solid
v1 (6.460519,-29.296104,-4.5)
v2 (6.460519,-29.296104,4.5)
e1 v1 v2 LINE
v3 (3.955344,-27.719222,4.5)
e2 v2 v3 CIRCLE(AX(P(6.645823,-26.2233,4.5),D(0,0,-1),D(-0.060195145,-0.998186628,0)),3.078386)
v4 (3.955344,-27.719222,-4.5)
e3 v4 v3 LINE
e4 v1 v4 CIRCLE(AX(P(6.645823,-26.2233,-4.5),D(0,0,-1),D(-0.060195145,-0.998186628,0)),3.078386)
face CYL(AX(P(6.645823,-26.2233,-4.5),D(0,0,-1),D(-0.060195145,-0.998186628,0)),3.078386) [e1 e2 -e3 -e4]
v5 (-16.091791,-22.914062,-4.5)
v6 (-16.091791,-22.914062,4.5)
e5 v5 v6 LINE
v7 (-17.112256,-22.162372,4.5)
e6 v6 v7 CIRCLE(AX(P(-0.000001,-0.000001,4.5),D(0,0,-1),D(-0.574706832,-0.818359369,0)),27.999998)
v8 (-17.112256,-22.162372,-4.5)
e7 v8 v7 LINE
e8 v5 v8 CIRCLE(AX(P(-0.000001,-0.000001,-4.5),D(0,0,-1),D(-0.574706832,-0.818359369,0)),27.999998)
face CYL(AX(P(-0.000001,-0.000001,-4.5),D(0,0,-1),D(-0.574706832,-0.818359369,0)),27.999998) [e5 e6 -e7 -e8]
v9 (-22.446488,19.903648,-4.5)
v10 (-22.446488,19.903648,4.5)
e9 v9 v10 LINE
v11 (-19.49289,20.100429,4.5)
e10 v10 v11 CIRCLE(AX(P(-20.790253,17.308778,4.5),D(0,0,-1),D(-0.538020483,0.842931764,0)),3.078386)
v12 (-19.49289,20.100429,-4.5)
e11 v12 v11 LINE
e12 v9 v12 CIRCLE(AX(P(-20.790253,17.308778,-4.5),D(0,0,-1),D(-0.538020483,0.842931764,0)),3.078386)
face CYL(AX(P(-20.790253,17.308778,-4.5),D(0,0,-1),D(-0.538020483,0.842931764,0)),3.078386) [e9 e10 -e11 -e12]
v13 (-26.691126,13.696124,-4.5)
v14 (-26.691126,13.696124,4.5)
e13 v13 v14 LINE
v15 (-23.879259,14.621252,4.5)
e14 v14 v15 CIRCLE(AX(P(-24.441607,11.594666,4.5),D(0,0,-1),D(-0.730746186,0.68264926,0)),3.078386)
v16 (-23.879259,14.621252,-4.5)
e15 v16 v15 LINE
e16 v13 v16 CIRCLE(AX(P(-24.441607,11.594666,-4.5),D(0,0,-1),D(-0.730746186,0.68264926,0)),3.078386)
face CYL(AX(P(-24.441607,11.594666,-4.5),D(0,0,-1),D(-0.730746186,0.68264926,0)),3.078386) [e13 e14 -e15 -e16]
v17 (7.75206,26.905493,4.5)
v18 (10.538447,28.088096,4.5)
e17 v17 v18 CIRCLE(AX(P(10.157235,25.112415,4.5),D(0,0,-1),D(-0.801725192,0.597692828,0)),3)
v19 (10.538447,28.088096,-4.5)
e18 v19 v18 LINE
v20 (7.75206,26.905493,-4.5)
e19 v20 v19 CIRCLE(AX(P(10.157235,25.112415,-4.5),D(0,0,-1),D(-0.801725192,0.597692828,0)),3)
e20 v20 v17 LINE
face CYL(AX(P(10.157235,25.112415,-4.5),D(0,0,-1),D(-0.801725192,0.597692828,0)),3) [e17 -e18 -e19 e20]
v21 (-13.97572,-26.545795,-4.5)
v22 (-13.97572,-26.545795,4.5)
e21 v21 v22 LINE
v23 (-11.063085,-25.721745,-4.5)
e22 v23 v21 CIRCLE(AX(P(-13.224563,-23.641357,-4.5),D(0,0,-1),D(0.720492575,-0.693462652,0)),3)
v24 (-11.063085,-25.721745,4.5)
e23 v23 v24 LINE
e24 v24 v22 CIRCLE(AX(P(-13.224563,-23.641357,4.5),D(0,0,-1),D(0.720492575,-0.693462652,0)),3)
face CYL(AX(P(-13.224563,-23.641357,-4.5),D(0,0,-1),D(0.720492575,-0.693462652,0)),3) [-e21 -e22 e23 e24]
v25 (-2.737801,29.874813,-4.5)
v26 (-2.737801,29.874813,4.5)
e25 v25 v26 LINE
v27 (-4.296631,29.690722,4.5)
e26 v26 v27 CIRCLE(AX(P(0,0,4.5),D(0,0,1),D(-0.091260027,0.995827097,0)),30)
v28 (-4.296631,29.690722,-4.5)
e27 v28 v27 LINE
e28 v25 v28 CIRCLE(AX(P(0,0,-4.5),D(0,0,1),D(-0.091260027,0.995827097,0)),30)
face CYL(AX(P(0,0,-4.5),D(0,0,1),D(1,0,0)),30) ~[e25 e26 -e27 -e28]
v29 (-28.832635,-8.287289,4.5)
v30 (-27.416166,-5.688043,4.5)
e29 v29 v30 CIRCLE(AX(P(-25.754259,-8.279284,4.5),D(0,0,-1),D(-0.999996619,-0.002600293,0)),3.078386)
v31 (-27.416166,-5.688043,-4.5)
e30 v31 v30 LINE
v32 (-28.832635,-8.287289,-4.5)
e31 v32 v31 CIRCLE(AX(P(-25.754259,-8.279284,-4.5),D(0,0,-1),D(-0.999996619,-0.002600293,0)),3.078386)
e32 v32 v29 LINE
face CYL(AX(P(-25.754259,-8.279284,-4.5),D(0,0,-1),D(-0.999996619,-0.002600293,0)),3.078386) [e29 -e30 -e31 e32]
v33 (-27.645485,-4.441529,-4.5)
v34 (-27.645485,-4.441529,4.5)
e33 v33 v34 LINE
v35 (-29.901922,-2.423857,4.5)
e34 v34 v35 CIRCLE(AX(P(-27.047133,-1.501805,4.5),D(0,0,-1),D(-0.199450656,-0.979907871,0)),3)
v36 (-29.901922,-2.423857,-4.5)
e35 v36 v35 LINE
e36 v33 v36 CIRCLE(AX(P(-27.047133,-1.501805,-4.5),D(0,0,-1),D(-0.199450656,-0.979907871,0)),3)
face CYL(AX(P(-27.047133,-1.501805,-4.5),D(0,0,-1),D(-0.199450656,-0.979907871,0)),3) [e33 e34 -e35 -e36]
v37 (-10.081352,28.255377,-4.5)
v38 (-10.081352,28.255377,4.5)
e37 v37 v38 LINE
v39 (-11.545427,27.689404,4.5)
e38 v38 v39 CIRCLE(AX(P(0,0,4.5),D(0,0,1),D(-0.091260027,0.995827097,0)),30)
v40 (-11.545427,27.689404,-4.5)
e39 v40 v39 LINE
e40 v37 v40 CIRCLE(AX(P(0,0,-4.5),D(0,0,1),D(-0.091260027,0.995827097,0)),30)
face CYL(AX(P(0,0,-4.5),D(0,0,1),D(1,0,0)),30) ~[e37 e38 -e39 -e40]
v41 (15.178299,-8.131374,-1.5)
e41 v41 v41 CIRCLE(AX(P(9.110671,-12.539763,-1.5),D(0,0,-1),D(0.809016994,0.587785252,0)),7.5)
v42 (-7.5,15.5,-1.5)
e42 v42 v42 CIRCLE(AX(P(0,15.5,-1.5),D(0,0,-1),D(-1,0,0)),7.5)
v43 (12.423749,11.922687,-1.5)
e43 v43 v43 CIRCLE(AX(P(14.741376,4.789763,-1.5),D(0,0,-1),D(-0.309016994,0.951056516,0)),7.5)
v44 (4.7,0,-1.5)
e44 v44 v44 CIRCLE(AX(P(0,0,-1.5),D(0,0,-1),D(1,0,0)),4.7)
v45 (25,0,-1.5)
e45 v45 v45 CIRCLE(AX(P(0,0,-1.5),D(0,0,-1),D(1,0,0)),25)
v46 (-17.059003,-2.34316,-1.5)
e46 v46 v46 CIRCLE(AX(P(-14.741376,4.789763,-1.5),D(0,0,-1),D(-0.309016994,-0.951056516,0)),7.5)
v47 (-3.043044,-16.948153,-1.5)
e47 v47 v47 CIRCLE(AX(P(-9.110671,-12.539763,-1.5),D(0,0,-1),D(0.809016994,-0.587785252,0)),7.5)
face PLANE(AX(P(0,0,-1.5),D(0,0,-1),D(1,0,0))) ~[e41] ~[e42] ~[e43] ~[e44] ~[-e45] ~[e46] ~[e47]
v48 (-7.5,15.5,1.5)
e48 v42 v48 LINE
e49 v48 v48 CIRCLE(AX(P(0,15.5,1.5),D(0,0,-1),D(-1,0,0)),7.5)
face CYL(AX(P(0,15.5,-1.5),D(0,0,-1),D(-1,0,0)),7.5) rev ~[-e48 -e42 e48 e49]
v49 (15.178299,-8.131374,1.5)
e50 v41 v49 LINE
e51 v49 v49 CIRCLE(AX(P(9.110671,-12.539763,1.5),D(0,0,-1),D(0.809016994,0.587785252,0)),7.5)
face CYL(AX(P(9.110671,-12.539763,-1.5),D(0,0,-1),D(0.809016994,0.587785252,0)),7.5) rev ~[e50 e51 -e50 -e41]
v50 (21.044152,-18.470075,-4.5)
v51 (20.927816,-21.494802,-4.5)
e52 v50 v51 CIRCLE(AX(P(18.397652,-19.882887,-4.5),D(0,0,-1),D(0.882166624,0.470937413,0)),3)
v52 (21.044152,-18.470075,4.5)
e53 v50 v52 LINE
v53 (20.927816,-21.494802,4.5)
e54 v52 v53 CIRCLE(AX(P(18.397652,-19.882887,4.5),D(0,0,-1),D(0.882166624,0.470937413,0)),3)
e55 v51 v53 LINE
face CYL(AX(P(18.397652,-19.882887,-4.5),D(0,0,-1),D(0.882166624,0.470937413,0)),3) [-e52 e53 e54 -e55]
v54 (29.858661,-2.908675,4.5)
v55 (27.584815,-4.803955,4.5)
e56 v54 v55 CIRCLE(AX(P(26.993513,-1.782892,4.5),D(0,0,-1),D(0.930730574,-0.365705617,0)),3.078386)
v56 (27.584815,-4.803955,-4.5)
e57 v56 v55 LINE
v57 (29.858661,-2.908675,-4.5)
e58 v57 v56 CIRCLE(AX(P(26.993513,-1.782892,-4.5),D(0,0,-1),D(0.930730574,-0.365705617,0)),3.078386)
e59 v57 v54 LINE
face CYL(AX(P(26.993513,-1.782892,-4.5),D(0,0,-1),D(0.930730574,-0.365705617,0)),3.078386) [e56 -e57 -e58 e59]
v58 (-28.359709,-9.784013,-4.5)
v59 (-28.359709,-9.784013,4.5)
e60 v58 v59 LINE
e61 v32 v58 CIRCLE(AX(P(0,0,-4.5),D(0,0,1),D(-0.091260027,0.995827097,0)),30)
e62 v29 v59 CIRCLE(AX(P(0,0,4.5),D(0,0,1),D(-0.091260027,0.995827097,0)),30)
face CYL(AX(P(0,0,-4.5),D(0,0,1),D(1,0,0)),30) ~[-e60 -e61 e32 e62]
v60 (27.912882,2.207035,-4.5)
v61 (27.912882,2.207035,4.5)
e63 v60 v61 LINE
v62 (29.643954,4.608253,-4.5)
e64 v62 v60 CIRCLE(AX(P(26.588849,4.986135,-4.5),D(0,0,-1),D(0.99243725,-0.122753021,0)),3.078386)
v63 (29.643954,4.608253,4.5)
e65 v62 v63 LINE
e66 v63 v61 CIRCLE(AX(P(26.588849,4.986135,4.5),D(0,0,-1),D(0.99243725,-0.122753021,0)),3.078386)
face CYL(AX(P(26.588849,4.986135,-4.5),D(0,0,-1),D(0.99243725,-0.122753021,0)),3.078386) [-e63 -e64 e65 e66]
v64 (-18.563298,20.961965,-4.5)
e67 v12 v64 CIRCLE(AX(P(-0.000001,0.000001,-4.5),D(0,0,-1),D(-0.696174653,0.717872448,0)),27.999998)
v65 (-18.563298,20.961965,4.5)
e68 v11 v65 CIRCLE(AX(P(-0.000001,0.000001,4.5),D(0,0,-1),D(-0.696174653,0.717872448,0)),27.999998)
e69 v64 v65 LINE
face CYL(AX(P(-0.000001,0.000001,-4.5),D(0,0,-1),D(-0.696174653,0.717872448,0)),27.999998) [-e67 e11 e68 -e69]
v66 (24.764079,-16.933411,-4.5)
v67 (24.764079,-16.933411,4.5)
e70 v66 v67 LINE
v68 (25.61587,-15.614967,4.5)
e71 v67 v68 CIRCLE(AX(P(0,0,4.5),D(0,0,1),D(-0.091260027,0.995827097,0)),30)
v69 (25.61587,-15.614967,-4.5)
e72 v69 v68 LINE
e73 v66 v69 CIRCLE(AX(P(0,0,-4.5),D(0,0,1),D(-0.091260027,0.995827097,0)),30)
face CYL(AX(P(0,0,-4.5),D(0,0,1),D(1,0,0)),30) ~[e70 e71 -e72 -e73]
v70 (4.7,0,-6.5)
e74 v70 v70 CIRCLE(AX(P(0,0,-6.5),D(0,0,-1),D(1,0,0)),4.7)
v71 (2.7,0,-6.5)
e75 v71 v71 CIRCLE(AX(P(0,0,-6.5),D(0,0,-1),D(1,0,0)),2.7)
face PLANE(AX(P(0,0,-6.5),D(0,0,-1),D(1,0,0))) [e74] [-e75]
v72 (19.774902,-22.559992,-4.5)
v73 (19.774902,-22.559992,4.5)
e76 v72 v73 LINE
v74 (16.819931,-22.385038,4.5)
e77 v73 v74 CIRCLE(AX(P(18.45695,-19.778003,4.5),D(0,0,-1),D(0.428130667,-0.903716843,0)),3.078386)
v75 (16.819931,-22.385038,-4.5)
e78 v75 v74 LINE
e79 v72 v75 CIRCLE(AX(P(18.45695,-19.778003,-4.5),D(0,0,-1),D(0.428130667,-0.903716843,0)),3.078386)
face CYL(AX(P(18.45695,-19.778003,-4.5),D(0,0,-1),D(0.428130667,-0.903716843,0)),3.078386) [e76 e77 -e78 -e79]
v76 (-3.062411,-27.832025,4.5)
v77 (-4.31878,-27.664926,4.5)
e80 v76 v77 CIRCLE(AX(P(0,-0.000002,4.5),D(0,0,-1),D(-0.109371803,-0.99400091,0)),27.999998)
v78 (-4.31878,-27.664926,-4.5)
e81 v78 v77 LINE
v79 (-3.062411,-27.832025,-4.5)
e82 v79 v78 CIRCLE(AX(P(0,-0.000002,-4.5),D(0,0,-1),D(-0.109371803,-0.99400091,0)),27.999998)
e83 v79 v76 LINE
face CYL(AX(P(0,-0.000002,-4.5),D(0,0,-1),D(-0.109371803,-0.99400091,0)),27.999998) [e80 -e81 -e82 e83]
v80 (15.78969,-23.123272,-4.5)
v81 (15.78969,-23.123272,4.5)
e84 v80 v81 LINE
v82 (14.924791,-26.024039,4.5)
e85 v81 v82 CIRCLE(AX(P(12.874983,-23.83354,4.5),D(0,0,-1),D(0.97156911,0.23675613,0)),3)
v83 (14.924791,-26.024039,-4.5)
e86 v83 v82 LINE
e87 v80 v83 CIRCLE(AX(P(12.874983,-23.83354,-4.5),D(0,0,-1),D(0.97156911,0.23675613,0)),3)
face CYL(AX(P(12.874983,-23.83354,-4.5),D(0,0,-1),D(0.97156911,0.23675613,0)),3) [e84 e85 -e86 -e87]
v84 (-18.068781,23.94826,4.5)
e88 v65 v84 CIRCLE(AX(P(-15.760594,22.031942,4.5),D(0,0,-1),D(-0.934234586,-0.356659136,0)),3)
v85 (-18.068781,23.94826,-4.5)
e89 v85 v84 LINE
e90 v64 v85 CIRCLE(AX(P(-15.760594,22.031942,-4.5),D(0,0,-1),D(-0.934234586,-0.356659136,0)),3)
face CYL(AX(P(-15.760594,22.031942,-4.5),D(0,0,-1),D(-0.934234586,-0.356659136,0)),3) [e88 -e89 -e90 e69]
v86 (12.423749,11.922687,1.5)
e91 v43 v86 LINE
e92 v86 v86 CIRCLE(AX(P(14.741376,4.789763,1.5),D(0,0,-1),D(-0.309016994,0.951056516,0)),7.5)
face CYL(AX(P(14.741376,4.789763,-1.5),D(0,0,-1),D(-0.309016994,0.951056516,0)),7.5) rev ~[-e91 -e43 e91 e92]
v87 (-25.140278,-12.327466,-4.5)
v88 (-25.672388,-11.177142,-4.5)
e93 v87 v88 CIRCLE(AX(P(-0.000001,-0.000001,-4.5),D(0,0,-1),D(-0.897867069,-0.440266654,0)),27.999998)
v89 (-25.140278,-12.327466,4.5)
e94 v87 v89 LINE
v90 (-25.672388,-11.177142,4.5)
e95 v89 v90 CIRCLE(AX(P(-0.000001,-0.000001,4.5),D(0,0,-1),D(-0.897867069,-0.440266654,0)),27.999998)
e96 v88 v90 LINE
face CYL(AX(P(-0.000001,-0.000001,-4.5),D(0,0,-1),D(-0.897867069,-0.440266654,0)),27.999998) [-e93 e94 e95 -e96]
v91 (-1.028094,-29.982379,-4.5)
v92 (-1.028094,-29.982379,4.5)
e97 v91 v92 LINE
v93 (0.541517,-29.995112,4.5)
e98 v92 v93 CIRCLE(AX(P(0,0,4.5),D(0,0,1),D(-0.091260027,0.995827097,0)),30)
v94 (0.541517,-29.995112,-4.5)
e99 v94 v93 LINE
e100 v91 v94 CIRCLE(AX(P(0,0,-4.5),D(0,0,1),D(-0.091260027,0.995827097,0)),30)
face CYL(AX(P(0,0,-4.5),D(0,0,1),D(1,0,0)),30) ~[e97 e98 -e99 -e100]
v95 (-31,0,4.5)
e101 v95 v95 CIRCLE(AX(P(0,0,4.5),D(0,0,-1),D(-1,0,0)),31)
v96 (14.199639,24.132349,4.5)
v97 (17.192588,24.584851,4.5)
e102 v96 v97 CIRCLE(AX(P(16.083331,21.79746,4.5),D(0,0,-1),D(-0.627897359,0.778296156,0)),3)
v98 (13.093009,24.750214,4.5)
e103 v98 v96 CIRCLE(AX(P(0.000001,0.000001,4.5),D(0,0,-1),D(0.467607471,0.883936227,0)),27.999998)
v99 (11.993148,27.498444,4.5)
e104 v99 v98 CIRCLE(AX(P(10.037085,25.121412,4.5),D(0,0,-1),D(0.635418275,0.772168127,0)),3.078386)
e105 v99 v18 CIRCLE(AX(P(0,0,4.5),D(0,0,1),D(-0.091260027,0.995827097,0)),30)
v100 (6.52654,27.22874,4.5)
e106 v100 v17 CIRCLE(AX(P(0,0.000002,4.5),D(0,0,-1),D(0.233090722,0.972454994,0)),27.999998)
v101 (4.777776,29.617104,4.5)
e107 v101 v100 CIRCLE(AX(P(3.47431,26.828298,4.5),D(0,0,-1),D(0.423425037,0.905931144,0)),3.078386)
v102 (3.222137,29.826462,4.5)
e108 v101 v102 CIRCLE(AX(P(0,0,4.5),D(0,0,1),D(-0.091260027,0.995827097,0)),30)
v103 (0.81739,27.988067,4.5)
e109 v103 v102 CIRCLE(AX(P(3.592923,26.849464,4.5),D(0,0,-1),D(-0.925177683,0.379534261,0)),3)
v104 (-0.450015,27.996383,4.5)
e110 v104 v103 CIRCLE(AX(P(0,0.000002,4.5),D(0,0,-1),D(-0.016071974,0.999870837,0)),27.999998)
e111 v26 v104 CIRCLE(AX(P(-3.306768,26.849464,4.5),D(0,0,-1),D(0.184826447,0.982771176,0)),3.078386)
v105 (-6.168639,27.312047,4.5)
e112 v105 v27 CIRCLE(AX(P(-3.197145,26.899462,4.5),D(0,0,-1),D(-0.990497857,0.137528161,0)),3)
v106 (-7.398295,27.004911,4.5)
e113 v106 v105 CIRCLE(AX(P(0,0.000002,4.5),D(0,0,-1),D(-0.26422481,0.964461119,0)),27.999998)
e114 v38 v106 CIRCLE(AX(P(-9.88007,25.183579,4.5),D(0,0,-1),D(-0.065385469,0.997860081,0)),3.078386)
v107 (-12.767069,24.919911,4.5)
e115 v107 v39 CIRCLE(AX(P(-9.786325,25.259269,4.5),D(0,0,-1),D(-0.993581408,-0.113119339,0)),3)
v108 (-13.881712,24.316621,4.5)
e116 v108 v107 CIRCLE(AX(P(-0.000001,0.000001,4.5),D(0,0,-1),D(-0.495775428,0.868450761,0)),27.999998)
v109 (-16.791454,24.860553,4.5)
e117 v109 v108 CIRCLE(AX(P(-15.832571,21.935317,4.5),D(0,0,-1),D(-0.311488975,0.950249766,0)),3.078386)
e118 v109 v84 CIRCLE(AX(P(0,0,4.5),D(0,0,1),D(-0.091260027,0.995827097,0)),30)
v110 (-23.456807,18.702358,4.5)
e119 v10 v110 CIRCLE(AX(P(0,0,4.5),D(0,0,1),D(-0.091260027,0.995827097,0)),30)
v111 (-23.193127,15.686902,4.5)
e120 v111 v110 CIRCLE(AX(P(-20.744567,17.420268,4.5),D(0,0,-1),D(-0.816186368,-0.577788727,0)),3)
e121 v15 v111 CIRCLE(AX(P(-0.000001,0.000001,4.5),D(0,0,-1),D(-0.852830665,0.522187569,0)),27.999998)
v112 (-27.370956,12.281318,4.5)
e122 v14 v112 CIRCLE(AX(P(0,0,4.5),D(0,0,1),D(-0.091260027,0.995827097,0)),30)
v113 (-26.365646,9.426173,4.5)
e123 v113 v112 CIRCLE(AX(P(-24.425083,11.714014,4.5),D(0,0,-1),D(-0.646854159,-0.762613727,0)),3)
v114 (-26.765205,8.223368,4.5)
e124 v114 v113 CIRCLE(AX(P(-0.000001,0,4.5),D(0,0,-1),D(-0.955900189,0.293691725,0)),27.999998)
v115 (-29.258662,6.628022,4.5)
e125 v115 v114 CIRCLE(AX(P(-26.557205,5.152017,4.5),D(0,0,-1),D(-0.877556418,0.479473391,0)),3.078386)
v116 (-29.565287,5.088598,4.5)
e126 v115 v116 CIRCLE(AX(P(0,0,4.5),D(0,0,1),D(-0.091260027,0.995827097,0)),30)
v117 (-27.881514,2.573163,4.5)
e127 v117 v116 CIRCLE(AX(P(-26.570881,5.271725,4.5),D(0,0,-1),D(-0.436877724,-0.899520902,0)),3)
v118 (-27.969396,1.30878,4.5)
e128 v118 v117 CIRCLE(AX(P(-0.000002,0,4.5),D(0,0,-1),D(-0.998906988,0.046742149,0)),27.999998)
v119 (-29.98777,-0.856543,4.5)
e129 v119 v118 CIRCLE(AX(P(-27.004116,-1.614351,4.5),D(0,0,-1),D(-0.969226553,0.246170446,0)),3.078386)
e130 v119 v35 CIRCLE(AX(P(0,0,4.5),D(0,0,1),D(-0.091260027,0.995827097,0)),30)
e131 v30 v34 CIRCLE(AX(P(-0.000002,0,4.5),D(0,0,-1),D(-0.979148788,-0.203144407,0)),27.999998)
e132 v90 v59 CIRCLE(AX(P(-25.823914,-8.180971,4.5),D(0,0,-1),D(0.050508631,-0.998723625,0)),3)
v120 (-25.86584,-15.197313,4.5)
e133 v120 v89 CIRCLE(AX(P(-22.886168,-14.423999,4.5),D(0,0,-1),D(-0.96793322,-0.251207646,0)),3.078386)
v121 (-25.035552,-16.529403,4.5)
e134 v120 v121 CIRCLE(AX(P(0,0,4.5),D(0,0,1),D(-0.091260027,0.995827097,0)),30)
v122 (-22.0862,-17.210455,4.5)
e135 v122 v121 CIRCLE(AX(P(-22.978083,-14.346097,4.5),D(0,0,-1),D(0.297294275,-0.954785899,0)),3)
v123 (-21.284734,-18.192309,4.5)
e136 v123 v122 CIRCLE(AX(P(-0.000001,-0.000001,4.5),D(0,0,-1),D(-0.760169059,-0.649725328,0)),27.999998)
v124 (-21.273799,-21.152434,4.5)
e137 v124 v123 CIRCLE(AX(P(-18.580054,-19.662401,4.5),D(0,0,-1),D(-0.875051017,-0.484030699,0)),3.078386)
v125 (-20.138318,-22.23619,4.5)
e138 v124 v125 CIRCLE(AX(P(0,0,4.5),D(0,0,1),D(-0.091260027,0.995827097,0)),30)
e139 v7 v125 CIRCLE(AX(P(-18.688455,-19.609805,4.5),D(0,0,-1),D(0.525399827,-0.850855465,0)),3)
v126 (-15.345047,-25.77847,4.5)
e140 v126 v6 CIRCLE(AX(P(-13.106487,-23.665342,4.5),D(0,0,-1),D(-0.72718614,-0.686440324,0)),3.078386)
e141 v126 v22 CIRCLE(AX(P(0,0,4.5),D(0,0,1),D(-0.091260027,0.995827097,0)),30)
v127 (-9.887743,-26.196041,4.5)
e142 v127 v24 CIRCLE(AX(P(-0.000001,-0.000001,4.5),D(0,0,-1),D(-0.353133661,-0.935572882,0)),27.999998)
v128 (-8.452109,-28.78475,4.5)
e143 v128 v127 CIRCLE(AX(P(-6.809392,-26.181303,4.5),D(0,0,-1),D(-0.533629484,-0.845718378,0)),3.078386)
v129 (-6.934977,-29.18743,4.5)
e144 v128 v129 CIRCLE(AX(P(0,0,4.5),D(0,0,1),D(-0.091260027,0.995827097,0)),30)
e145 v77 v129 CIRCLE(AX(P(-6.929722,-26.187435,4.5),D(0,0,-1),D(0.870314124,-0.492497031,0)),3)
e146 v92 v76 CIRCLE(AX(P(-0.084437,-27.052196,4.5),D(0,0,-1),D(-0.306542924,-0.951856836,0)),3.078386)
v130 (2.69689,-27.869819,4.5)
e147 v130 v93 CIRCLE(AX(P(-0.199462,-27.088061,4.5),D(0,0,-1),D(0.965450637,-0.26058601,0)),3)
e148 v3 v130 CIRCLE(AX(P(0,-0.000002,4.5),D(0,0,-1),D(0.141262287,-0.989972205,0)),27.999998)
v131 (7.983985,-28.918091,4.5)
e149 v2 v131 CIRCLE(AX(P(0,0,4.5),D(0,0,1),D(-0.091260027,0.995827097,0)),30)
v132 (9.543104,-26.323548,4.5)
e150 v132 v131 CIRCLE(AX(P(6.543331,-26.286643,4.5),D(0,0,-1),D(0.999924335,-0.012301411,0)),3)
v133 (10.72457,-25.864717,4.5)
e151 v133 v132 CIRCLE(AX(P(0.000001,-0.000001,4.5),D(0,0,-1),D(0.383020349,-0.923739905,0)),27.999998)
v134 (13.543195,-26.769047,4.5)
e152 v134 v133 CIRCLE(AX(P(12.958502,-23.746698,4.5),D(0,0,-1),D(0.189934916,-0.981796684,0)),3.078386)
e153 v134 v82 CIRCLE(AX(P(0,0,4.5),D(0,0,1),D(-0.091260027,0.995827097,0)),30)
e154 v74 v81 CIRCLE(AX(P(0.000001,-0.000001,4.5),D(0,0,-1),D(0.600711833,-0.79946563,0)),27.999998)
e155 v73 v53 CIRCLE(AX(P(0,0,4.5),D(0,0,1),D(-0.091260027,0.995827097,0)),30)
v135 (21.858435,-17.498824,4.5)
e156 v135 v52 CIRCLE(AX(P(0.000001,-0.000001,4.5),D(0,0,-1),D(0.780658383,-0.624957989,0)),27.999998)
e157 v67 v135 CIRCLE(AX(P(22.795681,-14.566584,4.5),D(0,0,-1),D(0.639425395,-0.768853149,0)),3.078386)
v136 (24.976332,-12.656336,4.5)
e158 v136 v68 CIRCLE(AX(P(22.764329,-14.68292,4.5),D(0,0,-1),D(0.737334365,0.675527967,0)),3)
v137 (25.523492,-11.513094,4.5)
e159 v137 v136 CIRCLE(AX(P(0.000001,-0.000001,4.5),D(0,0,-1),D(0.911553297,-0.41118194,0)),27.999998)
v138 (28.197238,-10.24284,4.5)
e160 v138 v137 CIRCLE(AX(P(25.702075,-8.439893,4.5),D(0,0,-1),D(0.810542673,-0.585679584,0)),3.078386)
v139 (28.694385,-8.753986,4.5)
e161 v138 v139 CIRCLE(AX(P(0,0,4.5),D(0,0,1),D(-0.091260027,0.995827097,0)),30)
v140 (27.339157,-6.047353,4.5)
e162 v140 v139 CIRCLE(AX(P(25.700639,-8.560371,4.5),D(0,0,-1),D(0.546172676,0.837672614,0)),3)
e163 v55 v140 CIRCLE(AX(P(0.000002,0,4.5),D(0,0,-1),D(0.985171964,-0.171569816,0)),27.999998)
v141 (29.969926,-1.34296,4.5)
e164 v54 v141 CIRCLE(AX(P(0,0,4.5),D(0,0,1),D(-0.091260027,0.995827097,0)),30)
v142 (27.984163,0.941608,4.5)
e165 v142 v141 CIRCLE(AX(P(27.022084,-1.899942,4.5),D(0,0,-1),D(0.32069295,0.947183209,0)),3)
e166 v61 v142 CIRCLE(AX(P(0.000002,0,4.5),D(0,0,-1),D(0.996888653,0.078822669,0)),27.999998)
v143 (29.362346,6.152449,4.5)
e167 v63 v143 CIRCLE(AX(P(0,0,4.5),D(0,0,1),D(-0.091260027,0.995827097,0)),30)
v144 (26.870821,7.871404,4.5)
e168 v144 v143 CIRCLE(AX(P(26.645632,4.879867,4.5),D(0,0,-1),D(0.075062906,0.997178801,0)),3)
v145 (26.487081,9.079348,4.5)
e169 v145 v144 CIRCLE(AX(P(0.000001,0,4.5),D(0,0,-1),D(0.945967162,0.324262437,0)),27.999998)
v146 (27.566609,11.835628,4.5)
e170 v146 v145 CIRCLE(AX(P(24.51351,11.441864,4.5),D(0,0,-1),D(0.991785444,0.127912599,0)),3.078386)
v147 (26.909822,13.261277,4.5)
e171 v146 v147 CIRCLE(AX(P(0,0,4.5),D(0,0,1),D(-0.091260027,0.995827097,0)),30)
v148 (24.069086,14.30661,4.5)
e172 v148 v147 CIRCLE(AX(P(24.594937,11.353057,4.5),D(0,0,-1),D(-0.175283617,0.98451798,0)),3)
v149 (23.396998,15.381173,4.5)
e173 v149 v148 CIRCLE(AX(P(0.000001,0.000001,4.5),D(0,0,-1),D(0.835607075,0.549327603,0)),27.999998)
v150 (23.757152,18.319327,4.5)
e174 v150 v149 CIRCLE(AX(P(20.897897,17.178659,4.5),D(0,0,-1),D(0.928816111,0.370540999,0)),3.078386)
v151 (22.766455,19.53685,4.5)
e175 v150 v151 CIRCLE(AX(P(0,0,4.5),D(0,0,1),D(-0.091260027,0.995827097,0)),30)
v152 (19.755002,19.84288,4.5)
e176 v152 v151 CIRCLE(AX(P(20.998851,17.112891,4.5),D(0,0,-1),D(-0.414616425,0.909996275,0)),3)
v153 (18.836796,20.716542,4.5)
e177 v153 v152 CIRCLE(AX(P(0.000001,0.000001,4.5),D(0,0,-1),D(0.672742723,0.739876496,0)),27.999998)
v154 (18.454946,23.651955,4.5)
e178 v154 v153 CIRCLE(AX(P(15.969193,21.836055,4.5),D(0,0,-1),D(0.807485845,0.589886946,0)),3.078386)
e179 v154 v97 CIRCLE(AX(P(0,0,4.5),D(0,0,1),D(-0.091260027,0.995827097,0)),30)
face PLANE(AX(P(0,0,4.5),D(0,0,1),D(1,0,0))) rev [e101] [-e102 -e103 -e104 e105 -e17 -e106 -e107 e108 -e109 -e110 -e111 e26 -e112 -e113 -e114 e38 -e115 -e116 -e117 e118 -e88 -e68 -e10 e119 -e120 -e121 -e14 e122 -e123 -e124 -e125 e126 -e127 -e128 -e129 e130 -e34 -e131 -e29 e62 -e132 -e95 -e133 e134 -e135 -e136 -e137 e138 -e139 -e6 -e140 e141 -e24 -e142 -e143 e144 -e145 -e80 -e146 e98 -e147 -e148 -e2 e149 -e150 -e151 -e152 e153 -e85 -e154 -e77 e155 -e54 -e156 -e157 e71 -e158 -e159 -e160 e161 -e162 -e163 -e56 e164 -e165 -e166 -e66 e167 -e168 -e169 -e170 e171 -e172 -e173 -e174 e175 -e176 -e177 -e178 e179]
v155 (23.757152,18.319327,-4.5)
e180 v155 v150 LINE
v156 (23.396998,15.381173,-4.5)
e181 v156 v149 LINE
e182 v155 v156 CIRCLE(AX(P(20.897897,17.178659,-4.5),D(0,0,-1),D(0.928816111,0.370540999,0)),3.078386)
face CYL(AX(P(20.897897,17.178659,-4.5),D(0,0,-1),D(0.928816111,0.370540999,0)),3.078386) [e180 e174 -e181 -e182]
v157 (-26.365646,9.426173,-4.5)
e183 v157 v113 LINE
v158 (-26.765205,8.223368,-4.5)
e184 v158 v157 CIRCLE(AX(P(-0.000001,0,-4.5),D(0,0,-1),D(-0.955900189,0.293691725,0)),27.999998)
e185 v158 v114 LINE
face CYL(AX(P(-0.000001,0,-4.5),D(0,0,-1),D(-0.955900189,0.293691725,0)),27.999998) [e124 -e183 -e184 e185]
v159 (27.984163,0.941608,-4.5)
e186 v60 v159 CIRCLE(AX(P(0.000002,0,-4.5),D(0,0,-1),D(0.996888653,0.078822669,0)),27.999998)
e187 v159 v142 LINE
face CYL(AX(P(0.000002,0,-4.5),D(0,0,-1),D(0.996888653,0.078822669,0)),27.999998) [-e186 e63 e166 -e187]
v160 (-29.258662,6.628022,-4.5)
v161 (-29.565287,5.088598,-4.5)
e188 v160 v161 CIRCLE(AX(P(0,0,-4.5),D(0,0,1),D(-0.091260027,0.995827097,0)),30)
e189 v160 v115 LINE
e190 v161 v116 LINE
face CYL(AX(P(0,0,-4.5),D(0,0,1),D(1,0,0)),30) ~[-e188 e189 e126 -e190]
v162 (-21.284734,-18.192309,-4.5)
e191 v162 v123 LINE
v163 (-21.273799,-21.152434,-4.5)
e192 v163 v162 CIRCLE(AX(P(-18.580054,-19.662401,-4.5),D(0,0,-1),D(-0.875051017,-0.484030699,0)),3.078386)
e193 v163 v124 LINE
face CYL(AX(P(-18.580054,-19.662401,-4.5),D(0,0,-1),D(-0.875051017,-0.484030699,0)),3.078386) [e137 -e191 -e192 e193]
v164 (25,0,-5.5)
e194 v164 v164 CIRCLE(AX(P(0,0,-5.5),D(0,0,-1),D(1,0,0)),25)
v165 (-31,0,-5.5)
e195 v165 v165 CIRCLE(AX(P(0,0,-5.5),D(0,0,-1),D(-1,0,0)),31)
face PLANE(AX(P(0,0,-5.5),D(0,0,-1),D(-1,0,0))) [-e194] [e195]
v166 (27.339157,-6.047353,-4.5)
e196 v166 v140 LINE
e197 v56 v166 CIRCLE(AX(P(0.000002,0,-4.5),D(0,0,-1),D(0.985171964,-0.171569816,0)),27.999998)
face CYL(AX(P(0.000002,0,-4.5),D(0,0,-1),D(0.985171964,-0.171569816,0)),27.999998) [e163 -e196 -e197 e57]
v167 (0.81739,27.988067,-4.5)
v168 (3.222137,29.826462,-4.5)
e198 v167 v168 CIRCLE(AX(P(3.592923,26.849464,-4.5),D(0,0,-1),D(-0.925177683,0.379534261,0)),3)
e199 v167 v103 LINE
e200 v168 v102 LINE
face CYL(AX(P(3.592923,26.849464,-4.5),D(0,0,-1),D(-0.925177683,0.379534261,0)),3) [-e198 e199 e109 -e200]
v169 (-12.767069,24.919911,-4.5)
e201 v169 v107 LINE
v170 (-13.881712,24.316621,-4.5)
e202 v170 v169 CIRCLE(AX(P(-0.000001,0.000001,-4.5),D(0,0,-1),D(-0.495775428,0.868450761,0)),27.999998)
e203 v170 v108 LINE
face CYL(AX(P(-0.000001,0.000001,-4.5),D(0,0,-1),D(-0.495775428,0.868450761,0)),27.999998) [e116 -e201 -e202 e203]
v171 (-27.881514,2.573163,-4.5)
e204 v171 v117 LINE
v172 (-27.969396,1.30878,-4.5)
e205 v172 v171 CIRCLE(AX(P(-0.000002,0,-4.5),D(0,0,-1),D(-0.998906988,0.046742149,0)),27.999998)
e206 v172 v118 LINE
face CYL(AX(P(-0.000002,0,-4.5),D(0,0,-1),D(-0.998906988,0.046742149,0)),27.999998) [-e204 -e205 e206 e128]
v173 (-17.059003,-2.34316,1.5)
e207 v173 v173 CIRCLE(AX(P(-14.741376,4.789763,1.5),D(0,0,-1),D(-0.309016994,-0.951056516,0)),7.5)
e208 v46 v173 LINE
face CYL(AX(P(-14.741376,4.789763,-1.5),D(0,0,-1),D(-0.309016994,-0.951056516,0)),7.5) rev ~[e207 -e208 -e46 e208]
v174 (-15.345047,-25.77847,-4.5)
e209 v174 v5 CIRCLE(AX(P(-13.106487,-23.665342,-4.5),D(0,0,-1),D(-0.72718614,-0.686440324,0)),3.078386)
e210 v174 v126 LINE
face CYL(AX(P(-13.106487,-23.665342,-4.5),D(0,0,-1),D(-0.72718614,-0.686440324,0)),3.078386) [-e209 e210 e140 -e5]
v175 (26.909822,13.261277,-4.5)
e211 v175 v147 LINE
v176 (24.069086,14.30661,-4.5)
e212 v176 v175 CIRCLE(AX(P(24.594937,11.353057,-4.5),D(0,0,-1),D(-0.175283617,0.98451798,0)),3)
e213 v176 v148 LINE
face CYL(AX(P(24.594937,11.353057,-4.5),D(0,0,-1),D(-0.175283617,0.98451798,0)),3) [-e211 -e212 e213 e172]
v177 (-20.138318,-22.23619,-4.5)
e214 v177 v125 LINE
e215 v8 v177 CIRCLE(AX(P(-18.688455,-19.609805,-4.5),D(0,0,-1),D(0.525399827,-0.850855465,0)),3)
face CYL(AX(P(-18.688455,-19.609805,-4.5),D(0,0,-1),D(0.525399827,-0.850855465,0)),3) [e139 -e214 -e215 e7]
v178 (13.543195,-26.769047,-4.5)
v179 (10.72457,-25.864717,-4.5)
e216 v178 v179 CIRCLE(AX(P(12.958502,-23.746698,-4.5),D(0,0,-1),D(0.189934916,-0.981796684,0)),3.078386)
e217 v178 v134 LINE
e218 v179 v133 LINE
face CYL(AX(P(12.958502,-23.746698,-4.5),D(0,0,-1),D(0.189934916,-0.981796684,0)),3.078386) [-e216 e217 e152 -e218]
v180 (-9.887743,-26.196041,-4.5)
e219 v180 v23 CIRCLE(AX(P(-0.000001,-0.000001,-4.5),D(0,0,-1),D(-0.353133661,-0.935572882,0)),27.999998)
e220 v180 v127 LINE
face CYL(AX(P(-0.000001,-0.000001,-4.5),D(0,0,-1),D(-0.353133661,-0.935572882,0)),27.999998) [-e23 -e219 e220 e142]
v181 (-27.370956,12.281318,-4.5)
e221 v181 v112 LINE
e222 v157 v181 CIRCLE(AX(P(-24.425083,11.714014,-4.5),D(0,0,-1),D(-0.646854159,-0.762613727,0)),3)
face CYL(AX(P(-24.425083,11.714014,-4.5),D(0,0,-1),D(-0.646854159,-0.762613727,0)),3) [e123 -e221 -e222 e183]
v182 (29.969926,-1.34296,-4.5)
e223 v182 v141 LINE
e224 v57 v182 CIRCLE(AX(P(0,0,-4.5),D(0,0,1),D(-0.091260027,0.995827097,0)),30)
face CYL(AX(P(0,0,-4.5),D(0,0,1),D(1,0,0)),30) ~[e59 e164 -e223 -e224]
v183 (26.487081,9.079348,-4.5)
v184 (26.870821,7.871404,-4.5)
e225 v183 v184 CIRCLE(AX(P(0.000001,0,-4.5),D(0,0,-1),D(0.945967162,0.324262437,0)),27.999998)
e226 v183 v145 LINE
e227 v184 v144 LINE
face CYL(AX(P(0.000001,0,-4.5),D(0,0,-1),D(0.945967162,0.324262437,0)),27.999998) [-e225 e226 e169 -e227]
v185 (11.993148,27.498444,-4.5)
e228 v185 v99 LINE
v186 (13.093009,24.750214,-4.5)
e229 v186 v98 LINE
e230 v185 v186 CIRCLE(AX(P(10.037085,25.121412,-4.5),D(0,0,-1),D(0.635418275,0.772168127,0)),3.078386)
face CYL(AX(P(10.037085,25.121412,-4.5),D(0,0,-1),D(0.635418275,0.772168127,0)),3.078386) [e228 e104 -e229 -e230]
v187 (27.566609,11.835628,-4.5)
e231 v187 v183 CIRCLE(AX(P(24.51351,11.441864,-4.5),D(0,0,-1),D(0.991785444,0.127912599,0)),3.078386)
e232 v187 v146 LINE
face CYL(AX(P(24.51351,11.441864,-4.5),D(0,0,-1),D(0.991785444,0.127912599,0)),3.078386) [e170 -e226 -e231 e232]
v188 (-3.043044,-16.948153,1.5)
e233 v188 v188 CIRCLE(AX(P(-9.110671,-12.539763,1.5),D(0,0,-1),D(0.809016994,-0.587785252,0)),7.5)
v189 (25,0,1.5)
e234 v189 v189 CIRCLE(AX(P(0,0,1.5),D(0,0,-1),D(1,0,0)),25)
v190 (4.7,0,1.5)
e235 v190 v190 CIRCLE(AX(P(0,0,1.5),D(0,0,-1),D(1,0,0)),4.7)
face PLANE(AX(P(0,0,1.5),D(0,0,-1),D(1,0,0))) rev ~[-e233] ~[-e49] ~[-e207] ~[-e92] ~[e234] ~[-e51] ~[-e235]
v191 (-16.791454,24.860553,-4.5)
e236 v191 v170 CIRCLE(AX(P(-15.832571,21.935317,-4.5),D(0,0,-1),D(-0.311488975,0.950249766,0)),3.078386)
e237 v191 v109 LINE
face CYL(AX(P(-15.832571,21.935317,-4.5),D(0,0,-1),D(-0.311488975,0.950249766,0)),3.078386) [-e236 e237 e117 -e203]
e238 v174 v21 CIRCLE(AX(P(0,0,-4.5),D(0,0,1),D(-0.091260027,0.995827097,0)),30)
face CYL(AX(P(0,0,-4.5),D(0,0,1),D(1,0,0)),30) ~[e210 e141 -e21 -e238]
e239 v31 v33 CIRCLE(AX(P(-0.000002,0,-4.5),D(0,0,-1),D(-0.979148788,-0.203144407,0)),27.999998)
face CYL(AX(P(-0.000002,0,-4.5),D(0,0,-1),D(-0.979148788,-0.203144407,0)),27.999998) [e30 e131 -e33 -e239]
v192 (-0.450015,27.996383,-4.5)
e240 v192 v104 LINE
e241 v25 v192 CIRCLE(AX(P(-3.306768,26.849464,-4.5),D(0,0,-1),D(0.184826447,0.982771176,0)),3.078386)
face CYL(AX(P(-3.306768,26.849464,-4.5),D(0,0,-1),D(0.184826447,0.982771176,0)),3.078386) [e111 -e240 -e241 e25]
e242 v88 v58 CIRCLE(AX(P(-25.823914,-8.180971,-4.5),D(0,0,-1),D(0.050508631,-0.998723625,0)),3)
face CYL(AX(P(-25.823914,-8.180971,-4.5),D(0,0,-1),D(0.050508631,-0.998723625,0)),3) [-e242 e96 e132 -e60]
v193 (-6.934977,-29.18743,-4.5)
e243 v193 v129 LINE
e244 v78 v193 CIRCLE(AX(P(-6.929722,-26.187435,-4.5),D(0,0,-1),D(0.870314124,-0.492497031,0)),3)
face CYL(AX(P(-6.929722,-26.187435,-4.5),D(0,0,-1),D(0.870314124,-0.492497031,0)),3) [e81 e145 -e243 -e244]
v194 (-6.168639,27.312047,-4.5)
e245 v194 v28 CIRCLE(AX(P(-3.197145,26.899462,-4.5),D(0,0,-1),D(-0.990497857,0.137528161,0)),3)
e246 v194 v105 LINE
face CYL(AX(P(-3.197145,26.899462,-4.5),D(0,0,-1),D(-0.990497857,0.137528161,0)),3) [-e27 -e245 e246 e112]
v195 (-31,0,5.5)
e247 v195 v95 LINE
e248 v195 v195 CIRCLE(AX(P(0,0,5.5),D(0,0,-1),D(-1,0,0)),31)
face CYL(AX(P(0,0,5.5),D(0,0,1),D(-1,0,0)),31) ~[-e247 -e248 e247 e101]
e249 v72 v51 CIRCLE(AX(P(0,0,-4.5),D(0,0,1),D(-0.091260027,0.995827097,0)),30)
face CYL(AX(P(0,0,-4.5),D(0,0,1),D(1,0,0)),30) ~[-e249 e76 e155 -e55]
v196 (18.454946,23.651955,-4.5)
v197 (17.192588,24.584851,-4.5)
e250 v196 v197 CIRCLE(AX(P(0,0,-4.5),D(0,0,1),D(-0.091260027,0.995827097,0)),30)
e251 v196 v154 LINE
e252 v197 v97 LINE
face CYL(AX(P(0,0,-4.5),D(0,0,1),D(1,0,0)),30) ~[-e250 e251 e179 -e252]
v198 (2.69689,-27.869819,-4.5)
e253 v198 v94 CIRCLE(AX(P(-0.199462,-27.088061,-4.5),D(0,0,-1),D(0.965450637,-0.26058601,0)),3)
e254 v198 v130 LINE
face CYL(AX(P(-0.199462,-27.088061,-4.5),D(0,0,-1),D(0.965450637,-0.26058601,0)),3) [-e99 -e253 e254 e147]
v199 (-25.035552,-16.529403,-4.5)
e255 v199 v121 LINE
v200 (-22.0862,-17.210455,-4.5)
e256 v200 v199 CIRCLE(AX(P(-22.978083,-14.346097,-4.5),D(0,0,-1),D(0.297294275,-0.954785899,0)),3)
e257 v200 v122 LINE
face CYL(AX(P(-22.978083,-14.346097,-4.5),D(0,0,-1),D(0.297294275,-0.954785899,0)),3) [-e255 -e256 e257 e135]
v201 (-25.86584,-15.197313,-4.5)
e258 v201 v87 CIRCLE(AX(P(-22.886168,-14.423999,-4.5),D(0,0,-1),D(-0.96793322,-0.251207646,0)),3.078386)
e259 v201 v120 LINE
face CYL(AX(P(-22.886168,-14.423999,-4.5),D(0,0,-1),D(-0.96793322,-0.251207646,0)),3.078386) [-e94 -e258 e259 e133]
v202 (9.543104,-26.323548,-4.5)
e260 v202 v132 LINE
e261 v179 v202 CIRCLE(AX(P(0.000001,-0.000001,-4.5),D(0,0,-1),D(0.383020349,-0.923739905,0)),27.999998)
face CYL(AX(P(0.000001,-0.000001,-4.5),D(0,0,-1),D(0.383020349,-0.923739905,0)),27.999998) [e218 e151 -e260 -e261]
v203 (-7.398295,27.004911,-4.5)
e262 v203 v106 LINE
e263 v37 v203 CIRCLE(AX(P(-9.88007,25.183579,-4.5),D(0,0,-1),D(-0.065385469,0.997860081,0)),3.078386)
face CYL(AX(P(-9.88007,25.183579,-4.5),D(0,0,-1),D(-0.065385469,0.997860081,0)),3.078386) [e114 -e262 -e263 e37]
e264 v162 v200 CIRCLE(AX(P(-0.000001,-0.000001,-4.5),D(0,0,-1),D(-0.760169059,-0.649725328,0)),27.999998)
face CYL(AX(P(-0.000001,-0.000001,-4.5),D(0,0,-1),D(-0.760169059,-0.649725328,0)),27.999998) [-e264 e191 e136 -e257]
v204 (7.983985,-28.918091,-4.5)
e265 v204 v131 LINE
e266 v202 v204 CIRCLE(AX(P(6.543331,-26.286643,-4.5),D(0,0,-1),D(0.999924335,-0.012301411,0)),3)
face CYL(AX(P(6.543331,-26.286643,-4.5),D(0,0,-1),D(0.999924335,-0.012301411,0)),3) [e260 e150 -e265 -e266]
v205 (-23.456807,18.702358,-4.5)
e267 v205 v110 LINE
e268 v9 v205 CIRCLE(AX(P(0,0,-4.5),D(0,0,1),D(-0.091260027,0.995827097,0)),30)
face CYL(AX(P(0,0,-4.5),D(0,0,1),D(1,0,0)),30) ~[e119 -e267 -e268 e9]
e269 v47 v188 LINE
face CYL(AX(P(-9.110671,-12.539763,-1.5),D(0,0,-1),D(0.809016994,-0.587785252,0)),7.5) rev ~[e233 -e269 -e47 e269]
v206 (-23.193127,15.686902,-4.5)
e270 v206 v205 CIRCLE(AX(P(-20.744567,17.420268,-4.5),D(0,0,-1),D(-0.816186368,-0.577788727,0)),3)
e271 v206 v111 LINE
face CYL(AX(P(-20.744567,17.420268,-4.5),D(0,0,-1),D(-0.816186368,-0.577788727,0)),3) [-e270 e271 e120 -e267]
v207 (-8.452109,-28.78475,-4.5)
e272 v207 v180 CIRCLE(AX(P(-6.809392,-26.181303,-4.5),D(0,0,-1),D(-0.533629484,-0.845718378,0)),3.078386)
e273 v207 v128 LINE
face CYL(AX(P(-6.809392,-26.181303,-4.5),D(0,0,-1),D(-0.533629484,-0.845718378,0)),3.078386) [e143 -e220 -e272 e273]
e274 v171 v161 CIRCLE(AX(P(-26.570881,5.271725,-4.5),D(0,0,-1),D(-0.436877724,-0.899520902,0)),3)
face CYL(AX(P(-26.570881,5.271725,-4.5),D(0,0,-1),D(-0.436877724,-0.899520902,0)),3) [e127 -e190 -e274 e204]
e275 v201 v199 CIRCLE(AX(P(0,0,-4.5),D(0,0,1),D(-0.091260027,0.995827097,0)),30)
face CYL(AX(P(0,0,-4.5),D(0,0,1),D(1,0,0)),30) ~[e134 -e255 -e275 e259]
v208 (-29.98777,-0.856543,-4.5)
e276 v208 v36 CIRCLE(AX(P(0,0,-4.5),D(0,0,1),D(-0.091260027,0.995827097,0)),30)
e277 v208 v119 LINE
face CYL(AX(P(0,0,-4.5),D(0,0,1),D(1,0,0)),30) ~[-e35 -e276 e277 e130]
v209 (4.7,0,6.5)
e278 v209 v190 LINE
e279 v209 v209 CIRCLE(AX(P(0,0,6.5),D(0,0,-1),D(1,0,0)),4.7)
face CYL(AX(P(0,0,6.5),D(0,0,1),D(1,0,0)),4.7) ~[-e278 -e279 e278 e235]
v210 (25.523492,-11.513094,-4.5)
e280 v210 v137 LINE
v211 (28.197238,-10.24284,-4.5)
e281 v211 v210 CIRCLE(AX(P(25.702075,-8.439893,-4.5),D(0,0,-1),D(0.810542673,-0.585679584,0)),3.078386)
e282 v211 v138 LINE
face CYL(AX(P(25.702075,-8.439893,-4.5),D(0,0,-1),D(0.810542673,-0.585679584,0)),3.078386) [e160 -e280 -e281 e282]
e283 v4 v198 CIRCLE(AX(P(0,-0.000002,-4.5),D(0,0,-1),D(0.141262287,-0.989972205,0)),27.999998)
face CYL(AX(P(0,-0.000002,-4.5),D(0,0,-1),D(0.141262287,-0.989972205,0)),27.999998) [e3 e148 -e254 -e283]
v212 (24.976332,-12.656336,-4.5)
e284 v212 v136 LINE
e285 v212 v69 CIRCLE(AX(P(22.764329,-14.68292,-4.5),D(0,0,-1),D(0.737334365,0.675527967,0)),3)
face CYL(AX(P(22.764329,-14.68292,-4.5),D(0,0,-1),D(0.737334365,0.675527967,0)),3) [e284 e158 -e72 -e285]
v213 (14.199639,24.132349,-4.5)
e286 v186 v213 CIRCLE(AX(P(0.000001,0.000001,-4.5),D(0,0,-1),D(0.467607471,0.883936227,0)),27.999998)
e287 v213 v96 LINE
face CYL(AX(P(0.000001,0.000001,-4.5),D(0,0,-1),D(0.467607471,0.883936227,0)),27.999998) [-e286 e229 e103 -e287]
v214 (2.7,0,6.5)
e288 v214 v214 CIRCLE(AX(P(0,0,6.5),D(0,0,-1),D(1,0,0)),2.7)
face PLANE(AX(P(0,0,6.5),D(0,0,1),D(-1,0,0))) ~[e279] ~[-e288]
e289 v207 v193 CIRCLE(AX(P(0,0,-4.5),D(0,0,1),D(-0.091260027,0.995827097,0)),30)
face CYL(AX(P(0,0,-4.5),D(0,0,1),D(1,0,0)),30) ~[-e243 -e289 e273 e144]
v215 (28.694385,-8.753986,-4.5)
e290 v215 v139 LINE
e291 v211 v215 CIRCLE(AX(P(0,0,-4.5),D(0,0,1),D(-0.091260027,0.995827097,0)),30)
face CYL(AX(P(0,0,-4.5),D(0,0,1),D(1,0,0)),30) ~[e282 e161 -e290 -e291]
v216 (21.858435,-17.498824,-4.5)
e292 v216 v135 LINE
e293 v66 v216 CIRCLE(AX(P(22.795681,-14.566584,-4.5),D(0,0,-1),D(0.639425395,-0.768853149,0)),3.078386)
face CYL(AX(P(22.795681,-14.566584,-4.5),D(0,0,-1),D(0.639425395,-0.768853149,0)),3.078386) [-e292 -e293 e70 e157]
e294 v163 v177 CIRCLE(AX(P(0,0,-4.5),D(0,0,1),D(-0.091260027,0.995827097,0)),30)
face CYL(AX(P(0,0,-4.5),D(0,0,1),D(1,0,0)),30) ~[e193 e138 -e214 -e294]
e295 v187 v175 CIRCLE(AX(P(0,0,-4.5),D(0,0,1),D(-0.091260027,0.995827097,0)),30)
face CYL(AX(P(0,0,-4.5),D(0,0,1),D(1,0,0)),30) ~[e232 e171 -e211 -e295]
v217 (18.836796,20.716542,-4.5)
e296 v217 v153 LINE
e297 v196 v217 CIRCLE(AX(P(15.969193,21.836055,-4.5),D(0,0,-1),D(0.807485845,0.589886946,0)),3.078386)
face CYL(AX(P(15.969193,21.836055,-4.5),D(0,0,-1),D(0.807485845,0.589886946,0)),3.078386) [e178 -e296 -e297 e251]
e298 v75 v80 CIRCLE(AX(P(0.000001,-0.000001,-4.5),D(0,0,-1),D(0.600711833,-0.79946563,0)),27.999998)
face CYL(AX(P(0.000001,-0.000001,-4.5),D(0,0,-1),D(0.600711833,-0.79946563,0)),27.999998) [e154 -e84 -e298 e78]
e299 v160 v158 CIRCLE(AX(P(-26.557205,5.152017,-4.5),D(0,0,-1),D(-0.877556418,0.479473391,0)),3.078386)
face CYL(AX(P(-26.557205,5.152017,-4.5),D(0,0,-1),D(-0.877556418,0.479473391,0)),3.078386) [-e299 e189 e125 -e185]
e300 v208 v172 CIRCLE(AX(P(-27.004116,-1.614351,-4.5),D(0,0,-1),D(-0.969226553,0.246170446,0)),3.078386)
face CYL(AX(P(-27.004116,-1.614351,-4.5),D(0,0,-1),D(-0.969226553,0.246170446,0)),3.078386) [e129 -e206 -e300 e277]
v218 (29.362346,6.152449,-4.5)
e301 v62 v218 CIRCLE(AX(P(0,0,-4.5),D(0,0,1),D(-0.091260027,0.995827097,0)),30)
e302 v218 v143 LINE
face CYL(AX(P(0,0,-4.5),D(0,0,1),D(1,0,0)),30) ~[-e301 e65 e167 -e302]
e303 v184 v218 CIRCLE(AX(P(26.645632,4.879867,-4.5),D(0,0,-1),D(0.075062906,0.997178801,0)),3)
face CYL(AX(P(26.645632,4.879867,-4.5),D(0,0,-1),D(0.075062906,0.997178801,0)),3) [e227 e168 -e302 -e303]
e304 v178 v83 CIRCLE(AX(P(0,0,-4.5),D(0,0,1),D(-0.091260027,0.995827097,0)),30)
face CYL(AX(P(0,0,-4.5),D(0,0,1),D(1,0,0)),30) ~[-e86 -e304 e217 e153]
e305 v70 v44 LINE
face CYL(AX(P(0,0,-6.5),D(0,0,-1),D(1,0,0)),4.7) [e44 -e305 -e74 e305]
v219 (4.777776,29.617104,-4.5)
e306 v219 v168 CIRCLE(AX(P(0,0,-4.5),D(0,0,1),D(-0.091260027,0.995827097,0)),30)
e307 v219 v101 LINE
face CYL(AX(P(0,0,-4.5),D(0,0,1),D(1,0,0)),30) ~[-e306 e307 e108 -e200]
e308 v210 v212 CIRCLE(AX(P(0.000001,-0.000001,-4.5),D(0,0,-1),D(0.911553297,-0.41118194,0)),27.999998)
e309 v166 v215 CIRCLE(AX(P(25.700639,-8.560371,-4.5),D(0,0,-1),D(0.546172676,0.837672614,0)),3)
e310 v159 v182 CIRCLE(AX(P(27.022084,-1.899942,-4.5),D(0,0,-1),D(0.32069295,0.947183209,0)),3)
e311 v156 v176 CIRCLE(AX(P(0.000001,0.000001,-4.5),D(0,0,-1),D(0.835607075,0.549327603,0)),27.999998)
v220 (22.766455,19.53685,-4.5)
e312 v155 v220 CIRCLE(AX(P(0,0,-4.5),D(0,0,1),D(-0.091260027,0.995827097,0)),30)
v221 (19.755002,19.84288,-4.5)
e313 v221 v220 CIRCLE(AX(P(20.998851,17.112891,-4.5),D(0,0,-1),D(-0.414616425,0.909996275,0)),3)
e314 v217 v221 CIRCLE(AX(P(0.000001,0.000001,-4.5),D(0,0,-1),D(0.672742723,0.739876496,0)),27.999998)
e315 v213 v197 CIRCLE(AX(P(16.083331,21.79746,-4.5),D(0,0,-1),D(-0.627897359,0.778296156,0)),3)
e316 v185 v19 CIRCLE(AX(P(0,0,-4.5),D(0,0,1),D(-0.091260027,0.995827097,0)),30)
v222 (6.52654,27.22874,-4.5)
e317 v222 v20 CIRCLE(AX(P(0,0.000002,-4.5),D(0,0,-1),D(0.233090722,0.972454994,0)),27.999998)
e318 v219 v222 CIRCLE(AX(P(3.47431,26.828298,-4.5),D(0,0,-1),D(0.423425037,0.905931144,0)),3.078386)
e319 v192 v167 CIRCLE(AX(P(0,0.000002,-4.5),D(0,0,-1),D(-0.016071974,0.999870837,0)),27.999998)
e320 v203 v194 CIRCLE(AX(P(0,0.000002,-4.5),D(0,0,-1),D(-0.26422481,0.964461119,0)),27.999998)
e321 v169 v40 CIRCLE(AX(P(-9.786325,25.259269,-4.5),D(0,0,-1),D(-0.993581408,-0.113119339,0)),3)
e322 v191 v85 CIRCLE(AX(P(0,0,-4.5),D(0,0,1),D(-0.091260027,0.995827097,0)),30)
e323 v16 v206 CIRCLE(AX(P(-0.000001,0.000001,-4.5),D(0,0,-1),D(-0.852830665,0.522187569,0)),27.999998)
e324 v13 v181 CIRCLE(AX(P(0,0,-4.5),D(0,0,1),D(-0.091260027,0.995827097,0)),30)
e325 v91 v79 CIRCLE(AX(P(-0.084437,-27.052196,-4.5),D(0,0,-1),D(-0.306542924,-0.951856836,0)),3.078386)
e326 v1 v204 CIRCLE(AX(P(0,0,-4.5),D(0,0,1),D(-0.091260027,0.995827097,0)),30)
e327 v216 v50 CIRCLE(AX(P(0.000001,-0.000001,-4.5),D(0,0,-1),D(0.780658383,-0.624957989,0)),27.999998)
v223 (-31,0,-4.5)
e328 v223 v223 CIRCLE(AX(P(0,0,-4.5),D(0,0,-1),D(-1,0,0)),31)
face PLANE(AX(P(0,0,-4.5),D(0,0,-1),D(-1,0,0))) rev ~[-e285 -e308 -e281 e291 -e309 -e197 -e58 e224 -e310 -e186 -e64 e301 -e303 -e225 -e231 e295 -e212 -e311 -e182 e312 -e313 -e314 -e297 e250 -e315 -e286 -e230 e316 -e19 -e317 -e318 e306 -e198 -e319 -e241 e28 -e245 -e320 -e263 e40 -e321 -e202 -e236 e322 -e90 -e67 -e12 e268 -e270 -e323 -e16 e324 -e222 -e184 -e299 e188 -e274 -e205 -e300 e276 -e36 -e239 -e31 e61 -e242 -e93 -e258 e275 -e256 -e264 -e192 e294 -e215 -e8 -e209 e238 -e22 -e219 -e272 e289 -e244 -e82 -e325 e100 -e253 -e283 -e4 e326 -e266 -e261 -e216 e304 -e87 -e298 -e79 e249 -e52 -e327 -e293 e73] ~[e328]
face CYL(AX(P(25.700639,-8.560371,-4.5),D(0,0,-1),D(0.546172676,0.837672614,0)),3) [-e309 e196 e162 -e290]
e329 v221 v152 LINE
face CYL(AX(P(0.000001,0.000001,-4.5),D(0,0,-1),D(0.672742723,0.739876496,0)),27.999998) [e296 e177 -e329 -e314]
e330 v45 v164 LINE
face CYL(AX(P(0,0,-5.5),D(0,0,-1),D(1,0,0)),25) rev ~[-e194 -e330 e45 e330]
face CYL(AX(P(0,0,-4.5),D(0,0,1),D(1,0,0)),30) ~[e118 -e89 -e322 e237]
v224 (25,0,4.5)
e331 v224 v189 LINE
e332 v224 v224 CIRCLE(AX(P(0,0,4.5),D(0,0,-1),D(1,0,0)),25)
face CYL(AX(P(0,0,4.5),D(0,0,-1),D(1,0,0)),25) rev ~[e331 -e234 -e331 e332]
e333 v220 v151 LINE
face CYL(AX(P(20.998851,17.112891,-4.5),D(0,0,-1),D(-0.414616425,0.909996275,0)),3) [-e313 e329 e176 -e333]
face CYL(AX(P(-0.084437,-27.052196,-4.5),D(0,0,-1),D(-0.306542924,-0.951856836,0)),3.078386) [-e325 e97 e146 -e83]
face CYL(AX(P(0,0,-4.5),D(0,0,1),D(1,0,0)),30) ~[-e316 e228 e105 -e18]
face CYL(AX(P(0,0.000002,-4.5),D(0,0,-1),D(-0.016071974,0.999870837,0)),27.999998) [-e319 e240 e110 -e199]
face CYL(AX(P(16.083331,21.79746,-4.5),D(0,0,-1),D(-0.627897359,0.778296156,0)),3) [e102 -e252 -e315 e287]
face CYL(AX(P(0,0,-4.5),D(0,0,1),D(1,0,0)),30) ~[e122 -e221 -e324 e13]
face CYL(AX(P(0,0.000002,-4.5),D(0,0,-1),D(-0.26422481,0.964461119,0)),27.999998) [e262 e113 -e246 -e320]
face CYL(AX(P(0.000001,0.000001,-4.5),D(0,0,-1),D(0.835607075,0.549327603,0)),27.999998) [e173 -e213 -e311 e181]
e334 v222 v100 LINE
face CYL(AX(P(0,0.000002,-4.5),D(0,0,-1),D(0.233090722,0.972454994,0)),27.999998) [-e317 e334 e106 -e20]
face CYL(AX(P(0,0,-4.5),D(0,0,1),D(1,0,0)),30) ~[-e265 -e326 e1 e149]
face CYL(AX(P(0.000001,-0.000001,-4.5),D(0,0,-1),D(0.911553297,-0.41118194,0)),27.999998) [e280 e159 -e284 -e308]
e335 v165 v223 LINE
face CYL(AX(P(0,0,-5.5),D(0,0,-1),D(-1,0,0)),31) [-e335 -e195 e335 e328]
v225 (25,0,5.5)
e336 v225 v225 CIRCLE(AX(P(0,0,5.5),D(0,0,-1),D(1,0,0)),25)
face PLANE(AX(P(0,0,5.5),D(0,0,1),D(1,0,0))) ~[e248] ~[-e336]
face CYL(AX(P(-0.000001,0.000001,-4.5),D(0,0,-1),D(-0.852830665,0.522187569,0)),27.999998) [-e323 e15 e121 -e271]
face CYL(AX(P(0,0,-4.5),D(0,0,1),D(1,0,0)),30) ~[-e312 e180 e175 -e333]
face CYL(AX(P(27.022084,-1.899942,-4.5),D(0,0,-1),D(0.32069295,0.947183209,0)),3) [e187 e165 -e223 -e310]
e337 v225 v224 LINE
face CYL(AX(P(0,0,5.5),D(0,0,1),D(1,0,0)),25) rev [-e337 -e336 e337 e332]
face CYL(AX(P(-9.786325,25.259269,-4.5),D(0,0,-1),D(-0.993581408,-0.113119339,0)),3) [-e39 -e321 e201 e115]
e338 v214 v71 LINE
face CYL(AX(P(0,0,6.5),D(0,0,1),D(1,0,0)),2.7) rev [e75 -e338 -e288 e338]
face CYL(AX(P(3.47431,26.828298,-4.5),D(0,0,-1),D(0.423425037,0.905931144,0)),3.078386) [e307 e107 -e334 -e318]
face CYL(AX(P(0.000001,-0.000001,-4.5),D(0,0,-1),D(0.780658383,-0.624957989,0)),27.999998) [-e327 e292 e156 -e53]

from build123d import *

# Parameters (mm, degrees)
CUT_EXTRUDE1_DEPTH  = 44.370496884
CIRPATTERN1_COUNT   = 25
SKETCH3_R           = 7.5
CUT_EXTRUDE2_DEPTH  = 43.84000856
CIRPATTERN2_COUNT   = 5
BOSS_EXTRUDE1_START = 1
SKETCH4_R           = 31
SKETCH4_R_2         = 25
BOSS_EXTRUDE1_DEPTH = 1
BOSS_EXTRUDE2_START = 5
SKETCH5_R           = 4.7
SKETCH5_R_2         = 2.7
BOSS_EXTRUDE2_DEPTH = 5


with BuildPart() as part:
    # Sketch1 → Revolve1 (revolve)
    with BuildSketch(Plane(origin=(0, 0, 0), x_dir=(0, 0, -1), z_dir=(1, 0, 0)), mode=Mode.PRIVATE) as revolve1_sk:
        Polygon((-4.5, 25), (-1.5, 25), (-1.5, 2.7), (1.5, 2.7), (1.5, 25), (4.5, 25), (4.5, 30), (-4.5, 30), align=None)
    revolve(revolve1_sk.sketch.rotate(Axis((0, 0, 3.054222254), (0, 0, -1)), 90), axis=Axis((0, 0, 3.054222254), (0, 0, -1)))

    # Sketch2 → Cut-Extrude1 (cut, through all)
    with BuildSketch(Plane(origin=(0, 0, -4.5), x_dir=(-1, 0, 0), z_dir=(0, 0, -1))):
        with BuildLine():
            ThreePointArc((0.450015258, 27.99638345), (-0.18373464, 27.999397165), (-0.817390411, 27.988066616))
            ThreePointArc((-0.817390411, 27.988066616), (-1.770903861, 29.232790202), (-3.222137334, 29.826461926))
            ThreePointArc((-3.222137334, 29.826461926), (-0.243371977, 29.999012818), (2.73780082, 29.874812914))
            ThreePointArc((2.73780082, 29.874812914), (1.353306055, 29.228633271), (0.450015258, 27.99638345))
        make_face()
    cut_extrude1 = extrude(amount=-CUT_EXTRUDE1_DEPTH, mode=Mode.SUBTRACT)

    # CirPattern1: Cut-Extrude1 ×25 about axis
    cirpattern1_axis = Axis((0, 0, 0), (0, 0, 1))
    for i in range(1, CIRPATTERN1_COUNT):
        add(cut_extrude1.rotate(cirpattern1_axis, i * 360 / CIRPATTERN1_COUNT), mode=Mode.SUBTRACT)

    # Sketch3 → Cut-Extrude2 (cut, through all)
    with BuildSketch(Plane(origin=(0, 0, -1.5), x_dir=(-1, 0, 0), z_dir=(0, 0, -1))):
        with Locations((0, 15.5)):
            Circle(SKETCH3_R)
    cut_extrude2 = extrude(amount=-CUT_EXTRUDE2_DEPTH, mode=Mode.SUBTRACT)

    # CirPattern2: Cut-Extrude2 ×5 about axis
    cirpattern2_axis = Axis((0, 0, 0), (0, 0, 1))
    for i in range(1, CIRPATTERN2_COUNT):
        add(cut_extrude2.rotate(cirpattern2_axis, i * 360 / CIRPATTERN2_COUNT), mode=Mode.SUBTRACT)

    # Sketch4 → Boss-Extrude1 (add)
    with BuildSketch(Plane(origin=(0, 0, -4.5), x_dir=(-1, 0, 0), z_dir=(0, 0, -1)).offset(BOSS_EXTRUDE1_START)):
        Circle(SKETCH4_R)
        with Locations(Location((0, 0, 0), (0, 0, 180))):
            Circle(SKETCH4_R_2, mode=Mode.SUBTRACT)
    boss_extrude1 = extrude(amount=-BOSS_EXTRUDE1_DEPTH)

    # Sketch5 → Boss-Extrude2 (add)
    with BuildSketch(Plane(origin=(0, 0, -1.5), x_dir=(-1, 0, 0), z_dir=(0, 0, -1)).offset(BOSS_EXTRUDE2_START)):
        with Locations(Location((0, 0, 0), (0, 0, 180))):
            Circle(SKETCH5_R)
        with Locations(Location((0, 0, 0), (0, 0, 180))):
            Circle(SKETCH5_R_2, mode=Mode.SUBTRACT)
    boss_extrude2 = extrude(amount=-BOSS_EXTRUDE2_DEPTH)

    # Mirror2: Boss-Extrude2 across plane
    add(boss_extrude2.mirror(Plane.XY))

    # Mirror3: Boss-Extrude1 across plane
    add(boss_extrude1.mirror(Plane.XY))


solid = part.part
